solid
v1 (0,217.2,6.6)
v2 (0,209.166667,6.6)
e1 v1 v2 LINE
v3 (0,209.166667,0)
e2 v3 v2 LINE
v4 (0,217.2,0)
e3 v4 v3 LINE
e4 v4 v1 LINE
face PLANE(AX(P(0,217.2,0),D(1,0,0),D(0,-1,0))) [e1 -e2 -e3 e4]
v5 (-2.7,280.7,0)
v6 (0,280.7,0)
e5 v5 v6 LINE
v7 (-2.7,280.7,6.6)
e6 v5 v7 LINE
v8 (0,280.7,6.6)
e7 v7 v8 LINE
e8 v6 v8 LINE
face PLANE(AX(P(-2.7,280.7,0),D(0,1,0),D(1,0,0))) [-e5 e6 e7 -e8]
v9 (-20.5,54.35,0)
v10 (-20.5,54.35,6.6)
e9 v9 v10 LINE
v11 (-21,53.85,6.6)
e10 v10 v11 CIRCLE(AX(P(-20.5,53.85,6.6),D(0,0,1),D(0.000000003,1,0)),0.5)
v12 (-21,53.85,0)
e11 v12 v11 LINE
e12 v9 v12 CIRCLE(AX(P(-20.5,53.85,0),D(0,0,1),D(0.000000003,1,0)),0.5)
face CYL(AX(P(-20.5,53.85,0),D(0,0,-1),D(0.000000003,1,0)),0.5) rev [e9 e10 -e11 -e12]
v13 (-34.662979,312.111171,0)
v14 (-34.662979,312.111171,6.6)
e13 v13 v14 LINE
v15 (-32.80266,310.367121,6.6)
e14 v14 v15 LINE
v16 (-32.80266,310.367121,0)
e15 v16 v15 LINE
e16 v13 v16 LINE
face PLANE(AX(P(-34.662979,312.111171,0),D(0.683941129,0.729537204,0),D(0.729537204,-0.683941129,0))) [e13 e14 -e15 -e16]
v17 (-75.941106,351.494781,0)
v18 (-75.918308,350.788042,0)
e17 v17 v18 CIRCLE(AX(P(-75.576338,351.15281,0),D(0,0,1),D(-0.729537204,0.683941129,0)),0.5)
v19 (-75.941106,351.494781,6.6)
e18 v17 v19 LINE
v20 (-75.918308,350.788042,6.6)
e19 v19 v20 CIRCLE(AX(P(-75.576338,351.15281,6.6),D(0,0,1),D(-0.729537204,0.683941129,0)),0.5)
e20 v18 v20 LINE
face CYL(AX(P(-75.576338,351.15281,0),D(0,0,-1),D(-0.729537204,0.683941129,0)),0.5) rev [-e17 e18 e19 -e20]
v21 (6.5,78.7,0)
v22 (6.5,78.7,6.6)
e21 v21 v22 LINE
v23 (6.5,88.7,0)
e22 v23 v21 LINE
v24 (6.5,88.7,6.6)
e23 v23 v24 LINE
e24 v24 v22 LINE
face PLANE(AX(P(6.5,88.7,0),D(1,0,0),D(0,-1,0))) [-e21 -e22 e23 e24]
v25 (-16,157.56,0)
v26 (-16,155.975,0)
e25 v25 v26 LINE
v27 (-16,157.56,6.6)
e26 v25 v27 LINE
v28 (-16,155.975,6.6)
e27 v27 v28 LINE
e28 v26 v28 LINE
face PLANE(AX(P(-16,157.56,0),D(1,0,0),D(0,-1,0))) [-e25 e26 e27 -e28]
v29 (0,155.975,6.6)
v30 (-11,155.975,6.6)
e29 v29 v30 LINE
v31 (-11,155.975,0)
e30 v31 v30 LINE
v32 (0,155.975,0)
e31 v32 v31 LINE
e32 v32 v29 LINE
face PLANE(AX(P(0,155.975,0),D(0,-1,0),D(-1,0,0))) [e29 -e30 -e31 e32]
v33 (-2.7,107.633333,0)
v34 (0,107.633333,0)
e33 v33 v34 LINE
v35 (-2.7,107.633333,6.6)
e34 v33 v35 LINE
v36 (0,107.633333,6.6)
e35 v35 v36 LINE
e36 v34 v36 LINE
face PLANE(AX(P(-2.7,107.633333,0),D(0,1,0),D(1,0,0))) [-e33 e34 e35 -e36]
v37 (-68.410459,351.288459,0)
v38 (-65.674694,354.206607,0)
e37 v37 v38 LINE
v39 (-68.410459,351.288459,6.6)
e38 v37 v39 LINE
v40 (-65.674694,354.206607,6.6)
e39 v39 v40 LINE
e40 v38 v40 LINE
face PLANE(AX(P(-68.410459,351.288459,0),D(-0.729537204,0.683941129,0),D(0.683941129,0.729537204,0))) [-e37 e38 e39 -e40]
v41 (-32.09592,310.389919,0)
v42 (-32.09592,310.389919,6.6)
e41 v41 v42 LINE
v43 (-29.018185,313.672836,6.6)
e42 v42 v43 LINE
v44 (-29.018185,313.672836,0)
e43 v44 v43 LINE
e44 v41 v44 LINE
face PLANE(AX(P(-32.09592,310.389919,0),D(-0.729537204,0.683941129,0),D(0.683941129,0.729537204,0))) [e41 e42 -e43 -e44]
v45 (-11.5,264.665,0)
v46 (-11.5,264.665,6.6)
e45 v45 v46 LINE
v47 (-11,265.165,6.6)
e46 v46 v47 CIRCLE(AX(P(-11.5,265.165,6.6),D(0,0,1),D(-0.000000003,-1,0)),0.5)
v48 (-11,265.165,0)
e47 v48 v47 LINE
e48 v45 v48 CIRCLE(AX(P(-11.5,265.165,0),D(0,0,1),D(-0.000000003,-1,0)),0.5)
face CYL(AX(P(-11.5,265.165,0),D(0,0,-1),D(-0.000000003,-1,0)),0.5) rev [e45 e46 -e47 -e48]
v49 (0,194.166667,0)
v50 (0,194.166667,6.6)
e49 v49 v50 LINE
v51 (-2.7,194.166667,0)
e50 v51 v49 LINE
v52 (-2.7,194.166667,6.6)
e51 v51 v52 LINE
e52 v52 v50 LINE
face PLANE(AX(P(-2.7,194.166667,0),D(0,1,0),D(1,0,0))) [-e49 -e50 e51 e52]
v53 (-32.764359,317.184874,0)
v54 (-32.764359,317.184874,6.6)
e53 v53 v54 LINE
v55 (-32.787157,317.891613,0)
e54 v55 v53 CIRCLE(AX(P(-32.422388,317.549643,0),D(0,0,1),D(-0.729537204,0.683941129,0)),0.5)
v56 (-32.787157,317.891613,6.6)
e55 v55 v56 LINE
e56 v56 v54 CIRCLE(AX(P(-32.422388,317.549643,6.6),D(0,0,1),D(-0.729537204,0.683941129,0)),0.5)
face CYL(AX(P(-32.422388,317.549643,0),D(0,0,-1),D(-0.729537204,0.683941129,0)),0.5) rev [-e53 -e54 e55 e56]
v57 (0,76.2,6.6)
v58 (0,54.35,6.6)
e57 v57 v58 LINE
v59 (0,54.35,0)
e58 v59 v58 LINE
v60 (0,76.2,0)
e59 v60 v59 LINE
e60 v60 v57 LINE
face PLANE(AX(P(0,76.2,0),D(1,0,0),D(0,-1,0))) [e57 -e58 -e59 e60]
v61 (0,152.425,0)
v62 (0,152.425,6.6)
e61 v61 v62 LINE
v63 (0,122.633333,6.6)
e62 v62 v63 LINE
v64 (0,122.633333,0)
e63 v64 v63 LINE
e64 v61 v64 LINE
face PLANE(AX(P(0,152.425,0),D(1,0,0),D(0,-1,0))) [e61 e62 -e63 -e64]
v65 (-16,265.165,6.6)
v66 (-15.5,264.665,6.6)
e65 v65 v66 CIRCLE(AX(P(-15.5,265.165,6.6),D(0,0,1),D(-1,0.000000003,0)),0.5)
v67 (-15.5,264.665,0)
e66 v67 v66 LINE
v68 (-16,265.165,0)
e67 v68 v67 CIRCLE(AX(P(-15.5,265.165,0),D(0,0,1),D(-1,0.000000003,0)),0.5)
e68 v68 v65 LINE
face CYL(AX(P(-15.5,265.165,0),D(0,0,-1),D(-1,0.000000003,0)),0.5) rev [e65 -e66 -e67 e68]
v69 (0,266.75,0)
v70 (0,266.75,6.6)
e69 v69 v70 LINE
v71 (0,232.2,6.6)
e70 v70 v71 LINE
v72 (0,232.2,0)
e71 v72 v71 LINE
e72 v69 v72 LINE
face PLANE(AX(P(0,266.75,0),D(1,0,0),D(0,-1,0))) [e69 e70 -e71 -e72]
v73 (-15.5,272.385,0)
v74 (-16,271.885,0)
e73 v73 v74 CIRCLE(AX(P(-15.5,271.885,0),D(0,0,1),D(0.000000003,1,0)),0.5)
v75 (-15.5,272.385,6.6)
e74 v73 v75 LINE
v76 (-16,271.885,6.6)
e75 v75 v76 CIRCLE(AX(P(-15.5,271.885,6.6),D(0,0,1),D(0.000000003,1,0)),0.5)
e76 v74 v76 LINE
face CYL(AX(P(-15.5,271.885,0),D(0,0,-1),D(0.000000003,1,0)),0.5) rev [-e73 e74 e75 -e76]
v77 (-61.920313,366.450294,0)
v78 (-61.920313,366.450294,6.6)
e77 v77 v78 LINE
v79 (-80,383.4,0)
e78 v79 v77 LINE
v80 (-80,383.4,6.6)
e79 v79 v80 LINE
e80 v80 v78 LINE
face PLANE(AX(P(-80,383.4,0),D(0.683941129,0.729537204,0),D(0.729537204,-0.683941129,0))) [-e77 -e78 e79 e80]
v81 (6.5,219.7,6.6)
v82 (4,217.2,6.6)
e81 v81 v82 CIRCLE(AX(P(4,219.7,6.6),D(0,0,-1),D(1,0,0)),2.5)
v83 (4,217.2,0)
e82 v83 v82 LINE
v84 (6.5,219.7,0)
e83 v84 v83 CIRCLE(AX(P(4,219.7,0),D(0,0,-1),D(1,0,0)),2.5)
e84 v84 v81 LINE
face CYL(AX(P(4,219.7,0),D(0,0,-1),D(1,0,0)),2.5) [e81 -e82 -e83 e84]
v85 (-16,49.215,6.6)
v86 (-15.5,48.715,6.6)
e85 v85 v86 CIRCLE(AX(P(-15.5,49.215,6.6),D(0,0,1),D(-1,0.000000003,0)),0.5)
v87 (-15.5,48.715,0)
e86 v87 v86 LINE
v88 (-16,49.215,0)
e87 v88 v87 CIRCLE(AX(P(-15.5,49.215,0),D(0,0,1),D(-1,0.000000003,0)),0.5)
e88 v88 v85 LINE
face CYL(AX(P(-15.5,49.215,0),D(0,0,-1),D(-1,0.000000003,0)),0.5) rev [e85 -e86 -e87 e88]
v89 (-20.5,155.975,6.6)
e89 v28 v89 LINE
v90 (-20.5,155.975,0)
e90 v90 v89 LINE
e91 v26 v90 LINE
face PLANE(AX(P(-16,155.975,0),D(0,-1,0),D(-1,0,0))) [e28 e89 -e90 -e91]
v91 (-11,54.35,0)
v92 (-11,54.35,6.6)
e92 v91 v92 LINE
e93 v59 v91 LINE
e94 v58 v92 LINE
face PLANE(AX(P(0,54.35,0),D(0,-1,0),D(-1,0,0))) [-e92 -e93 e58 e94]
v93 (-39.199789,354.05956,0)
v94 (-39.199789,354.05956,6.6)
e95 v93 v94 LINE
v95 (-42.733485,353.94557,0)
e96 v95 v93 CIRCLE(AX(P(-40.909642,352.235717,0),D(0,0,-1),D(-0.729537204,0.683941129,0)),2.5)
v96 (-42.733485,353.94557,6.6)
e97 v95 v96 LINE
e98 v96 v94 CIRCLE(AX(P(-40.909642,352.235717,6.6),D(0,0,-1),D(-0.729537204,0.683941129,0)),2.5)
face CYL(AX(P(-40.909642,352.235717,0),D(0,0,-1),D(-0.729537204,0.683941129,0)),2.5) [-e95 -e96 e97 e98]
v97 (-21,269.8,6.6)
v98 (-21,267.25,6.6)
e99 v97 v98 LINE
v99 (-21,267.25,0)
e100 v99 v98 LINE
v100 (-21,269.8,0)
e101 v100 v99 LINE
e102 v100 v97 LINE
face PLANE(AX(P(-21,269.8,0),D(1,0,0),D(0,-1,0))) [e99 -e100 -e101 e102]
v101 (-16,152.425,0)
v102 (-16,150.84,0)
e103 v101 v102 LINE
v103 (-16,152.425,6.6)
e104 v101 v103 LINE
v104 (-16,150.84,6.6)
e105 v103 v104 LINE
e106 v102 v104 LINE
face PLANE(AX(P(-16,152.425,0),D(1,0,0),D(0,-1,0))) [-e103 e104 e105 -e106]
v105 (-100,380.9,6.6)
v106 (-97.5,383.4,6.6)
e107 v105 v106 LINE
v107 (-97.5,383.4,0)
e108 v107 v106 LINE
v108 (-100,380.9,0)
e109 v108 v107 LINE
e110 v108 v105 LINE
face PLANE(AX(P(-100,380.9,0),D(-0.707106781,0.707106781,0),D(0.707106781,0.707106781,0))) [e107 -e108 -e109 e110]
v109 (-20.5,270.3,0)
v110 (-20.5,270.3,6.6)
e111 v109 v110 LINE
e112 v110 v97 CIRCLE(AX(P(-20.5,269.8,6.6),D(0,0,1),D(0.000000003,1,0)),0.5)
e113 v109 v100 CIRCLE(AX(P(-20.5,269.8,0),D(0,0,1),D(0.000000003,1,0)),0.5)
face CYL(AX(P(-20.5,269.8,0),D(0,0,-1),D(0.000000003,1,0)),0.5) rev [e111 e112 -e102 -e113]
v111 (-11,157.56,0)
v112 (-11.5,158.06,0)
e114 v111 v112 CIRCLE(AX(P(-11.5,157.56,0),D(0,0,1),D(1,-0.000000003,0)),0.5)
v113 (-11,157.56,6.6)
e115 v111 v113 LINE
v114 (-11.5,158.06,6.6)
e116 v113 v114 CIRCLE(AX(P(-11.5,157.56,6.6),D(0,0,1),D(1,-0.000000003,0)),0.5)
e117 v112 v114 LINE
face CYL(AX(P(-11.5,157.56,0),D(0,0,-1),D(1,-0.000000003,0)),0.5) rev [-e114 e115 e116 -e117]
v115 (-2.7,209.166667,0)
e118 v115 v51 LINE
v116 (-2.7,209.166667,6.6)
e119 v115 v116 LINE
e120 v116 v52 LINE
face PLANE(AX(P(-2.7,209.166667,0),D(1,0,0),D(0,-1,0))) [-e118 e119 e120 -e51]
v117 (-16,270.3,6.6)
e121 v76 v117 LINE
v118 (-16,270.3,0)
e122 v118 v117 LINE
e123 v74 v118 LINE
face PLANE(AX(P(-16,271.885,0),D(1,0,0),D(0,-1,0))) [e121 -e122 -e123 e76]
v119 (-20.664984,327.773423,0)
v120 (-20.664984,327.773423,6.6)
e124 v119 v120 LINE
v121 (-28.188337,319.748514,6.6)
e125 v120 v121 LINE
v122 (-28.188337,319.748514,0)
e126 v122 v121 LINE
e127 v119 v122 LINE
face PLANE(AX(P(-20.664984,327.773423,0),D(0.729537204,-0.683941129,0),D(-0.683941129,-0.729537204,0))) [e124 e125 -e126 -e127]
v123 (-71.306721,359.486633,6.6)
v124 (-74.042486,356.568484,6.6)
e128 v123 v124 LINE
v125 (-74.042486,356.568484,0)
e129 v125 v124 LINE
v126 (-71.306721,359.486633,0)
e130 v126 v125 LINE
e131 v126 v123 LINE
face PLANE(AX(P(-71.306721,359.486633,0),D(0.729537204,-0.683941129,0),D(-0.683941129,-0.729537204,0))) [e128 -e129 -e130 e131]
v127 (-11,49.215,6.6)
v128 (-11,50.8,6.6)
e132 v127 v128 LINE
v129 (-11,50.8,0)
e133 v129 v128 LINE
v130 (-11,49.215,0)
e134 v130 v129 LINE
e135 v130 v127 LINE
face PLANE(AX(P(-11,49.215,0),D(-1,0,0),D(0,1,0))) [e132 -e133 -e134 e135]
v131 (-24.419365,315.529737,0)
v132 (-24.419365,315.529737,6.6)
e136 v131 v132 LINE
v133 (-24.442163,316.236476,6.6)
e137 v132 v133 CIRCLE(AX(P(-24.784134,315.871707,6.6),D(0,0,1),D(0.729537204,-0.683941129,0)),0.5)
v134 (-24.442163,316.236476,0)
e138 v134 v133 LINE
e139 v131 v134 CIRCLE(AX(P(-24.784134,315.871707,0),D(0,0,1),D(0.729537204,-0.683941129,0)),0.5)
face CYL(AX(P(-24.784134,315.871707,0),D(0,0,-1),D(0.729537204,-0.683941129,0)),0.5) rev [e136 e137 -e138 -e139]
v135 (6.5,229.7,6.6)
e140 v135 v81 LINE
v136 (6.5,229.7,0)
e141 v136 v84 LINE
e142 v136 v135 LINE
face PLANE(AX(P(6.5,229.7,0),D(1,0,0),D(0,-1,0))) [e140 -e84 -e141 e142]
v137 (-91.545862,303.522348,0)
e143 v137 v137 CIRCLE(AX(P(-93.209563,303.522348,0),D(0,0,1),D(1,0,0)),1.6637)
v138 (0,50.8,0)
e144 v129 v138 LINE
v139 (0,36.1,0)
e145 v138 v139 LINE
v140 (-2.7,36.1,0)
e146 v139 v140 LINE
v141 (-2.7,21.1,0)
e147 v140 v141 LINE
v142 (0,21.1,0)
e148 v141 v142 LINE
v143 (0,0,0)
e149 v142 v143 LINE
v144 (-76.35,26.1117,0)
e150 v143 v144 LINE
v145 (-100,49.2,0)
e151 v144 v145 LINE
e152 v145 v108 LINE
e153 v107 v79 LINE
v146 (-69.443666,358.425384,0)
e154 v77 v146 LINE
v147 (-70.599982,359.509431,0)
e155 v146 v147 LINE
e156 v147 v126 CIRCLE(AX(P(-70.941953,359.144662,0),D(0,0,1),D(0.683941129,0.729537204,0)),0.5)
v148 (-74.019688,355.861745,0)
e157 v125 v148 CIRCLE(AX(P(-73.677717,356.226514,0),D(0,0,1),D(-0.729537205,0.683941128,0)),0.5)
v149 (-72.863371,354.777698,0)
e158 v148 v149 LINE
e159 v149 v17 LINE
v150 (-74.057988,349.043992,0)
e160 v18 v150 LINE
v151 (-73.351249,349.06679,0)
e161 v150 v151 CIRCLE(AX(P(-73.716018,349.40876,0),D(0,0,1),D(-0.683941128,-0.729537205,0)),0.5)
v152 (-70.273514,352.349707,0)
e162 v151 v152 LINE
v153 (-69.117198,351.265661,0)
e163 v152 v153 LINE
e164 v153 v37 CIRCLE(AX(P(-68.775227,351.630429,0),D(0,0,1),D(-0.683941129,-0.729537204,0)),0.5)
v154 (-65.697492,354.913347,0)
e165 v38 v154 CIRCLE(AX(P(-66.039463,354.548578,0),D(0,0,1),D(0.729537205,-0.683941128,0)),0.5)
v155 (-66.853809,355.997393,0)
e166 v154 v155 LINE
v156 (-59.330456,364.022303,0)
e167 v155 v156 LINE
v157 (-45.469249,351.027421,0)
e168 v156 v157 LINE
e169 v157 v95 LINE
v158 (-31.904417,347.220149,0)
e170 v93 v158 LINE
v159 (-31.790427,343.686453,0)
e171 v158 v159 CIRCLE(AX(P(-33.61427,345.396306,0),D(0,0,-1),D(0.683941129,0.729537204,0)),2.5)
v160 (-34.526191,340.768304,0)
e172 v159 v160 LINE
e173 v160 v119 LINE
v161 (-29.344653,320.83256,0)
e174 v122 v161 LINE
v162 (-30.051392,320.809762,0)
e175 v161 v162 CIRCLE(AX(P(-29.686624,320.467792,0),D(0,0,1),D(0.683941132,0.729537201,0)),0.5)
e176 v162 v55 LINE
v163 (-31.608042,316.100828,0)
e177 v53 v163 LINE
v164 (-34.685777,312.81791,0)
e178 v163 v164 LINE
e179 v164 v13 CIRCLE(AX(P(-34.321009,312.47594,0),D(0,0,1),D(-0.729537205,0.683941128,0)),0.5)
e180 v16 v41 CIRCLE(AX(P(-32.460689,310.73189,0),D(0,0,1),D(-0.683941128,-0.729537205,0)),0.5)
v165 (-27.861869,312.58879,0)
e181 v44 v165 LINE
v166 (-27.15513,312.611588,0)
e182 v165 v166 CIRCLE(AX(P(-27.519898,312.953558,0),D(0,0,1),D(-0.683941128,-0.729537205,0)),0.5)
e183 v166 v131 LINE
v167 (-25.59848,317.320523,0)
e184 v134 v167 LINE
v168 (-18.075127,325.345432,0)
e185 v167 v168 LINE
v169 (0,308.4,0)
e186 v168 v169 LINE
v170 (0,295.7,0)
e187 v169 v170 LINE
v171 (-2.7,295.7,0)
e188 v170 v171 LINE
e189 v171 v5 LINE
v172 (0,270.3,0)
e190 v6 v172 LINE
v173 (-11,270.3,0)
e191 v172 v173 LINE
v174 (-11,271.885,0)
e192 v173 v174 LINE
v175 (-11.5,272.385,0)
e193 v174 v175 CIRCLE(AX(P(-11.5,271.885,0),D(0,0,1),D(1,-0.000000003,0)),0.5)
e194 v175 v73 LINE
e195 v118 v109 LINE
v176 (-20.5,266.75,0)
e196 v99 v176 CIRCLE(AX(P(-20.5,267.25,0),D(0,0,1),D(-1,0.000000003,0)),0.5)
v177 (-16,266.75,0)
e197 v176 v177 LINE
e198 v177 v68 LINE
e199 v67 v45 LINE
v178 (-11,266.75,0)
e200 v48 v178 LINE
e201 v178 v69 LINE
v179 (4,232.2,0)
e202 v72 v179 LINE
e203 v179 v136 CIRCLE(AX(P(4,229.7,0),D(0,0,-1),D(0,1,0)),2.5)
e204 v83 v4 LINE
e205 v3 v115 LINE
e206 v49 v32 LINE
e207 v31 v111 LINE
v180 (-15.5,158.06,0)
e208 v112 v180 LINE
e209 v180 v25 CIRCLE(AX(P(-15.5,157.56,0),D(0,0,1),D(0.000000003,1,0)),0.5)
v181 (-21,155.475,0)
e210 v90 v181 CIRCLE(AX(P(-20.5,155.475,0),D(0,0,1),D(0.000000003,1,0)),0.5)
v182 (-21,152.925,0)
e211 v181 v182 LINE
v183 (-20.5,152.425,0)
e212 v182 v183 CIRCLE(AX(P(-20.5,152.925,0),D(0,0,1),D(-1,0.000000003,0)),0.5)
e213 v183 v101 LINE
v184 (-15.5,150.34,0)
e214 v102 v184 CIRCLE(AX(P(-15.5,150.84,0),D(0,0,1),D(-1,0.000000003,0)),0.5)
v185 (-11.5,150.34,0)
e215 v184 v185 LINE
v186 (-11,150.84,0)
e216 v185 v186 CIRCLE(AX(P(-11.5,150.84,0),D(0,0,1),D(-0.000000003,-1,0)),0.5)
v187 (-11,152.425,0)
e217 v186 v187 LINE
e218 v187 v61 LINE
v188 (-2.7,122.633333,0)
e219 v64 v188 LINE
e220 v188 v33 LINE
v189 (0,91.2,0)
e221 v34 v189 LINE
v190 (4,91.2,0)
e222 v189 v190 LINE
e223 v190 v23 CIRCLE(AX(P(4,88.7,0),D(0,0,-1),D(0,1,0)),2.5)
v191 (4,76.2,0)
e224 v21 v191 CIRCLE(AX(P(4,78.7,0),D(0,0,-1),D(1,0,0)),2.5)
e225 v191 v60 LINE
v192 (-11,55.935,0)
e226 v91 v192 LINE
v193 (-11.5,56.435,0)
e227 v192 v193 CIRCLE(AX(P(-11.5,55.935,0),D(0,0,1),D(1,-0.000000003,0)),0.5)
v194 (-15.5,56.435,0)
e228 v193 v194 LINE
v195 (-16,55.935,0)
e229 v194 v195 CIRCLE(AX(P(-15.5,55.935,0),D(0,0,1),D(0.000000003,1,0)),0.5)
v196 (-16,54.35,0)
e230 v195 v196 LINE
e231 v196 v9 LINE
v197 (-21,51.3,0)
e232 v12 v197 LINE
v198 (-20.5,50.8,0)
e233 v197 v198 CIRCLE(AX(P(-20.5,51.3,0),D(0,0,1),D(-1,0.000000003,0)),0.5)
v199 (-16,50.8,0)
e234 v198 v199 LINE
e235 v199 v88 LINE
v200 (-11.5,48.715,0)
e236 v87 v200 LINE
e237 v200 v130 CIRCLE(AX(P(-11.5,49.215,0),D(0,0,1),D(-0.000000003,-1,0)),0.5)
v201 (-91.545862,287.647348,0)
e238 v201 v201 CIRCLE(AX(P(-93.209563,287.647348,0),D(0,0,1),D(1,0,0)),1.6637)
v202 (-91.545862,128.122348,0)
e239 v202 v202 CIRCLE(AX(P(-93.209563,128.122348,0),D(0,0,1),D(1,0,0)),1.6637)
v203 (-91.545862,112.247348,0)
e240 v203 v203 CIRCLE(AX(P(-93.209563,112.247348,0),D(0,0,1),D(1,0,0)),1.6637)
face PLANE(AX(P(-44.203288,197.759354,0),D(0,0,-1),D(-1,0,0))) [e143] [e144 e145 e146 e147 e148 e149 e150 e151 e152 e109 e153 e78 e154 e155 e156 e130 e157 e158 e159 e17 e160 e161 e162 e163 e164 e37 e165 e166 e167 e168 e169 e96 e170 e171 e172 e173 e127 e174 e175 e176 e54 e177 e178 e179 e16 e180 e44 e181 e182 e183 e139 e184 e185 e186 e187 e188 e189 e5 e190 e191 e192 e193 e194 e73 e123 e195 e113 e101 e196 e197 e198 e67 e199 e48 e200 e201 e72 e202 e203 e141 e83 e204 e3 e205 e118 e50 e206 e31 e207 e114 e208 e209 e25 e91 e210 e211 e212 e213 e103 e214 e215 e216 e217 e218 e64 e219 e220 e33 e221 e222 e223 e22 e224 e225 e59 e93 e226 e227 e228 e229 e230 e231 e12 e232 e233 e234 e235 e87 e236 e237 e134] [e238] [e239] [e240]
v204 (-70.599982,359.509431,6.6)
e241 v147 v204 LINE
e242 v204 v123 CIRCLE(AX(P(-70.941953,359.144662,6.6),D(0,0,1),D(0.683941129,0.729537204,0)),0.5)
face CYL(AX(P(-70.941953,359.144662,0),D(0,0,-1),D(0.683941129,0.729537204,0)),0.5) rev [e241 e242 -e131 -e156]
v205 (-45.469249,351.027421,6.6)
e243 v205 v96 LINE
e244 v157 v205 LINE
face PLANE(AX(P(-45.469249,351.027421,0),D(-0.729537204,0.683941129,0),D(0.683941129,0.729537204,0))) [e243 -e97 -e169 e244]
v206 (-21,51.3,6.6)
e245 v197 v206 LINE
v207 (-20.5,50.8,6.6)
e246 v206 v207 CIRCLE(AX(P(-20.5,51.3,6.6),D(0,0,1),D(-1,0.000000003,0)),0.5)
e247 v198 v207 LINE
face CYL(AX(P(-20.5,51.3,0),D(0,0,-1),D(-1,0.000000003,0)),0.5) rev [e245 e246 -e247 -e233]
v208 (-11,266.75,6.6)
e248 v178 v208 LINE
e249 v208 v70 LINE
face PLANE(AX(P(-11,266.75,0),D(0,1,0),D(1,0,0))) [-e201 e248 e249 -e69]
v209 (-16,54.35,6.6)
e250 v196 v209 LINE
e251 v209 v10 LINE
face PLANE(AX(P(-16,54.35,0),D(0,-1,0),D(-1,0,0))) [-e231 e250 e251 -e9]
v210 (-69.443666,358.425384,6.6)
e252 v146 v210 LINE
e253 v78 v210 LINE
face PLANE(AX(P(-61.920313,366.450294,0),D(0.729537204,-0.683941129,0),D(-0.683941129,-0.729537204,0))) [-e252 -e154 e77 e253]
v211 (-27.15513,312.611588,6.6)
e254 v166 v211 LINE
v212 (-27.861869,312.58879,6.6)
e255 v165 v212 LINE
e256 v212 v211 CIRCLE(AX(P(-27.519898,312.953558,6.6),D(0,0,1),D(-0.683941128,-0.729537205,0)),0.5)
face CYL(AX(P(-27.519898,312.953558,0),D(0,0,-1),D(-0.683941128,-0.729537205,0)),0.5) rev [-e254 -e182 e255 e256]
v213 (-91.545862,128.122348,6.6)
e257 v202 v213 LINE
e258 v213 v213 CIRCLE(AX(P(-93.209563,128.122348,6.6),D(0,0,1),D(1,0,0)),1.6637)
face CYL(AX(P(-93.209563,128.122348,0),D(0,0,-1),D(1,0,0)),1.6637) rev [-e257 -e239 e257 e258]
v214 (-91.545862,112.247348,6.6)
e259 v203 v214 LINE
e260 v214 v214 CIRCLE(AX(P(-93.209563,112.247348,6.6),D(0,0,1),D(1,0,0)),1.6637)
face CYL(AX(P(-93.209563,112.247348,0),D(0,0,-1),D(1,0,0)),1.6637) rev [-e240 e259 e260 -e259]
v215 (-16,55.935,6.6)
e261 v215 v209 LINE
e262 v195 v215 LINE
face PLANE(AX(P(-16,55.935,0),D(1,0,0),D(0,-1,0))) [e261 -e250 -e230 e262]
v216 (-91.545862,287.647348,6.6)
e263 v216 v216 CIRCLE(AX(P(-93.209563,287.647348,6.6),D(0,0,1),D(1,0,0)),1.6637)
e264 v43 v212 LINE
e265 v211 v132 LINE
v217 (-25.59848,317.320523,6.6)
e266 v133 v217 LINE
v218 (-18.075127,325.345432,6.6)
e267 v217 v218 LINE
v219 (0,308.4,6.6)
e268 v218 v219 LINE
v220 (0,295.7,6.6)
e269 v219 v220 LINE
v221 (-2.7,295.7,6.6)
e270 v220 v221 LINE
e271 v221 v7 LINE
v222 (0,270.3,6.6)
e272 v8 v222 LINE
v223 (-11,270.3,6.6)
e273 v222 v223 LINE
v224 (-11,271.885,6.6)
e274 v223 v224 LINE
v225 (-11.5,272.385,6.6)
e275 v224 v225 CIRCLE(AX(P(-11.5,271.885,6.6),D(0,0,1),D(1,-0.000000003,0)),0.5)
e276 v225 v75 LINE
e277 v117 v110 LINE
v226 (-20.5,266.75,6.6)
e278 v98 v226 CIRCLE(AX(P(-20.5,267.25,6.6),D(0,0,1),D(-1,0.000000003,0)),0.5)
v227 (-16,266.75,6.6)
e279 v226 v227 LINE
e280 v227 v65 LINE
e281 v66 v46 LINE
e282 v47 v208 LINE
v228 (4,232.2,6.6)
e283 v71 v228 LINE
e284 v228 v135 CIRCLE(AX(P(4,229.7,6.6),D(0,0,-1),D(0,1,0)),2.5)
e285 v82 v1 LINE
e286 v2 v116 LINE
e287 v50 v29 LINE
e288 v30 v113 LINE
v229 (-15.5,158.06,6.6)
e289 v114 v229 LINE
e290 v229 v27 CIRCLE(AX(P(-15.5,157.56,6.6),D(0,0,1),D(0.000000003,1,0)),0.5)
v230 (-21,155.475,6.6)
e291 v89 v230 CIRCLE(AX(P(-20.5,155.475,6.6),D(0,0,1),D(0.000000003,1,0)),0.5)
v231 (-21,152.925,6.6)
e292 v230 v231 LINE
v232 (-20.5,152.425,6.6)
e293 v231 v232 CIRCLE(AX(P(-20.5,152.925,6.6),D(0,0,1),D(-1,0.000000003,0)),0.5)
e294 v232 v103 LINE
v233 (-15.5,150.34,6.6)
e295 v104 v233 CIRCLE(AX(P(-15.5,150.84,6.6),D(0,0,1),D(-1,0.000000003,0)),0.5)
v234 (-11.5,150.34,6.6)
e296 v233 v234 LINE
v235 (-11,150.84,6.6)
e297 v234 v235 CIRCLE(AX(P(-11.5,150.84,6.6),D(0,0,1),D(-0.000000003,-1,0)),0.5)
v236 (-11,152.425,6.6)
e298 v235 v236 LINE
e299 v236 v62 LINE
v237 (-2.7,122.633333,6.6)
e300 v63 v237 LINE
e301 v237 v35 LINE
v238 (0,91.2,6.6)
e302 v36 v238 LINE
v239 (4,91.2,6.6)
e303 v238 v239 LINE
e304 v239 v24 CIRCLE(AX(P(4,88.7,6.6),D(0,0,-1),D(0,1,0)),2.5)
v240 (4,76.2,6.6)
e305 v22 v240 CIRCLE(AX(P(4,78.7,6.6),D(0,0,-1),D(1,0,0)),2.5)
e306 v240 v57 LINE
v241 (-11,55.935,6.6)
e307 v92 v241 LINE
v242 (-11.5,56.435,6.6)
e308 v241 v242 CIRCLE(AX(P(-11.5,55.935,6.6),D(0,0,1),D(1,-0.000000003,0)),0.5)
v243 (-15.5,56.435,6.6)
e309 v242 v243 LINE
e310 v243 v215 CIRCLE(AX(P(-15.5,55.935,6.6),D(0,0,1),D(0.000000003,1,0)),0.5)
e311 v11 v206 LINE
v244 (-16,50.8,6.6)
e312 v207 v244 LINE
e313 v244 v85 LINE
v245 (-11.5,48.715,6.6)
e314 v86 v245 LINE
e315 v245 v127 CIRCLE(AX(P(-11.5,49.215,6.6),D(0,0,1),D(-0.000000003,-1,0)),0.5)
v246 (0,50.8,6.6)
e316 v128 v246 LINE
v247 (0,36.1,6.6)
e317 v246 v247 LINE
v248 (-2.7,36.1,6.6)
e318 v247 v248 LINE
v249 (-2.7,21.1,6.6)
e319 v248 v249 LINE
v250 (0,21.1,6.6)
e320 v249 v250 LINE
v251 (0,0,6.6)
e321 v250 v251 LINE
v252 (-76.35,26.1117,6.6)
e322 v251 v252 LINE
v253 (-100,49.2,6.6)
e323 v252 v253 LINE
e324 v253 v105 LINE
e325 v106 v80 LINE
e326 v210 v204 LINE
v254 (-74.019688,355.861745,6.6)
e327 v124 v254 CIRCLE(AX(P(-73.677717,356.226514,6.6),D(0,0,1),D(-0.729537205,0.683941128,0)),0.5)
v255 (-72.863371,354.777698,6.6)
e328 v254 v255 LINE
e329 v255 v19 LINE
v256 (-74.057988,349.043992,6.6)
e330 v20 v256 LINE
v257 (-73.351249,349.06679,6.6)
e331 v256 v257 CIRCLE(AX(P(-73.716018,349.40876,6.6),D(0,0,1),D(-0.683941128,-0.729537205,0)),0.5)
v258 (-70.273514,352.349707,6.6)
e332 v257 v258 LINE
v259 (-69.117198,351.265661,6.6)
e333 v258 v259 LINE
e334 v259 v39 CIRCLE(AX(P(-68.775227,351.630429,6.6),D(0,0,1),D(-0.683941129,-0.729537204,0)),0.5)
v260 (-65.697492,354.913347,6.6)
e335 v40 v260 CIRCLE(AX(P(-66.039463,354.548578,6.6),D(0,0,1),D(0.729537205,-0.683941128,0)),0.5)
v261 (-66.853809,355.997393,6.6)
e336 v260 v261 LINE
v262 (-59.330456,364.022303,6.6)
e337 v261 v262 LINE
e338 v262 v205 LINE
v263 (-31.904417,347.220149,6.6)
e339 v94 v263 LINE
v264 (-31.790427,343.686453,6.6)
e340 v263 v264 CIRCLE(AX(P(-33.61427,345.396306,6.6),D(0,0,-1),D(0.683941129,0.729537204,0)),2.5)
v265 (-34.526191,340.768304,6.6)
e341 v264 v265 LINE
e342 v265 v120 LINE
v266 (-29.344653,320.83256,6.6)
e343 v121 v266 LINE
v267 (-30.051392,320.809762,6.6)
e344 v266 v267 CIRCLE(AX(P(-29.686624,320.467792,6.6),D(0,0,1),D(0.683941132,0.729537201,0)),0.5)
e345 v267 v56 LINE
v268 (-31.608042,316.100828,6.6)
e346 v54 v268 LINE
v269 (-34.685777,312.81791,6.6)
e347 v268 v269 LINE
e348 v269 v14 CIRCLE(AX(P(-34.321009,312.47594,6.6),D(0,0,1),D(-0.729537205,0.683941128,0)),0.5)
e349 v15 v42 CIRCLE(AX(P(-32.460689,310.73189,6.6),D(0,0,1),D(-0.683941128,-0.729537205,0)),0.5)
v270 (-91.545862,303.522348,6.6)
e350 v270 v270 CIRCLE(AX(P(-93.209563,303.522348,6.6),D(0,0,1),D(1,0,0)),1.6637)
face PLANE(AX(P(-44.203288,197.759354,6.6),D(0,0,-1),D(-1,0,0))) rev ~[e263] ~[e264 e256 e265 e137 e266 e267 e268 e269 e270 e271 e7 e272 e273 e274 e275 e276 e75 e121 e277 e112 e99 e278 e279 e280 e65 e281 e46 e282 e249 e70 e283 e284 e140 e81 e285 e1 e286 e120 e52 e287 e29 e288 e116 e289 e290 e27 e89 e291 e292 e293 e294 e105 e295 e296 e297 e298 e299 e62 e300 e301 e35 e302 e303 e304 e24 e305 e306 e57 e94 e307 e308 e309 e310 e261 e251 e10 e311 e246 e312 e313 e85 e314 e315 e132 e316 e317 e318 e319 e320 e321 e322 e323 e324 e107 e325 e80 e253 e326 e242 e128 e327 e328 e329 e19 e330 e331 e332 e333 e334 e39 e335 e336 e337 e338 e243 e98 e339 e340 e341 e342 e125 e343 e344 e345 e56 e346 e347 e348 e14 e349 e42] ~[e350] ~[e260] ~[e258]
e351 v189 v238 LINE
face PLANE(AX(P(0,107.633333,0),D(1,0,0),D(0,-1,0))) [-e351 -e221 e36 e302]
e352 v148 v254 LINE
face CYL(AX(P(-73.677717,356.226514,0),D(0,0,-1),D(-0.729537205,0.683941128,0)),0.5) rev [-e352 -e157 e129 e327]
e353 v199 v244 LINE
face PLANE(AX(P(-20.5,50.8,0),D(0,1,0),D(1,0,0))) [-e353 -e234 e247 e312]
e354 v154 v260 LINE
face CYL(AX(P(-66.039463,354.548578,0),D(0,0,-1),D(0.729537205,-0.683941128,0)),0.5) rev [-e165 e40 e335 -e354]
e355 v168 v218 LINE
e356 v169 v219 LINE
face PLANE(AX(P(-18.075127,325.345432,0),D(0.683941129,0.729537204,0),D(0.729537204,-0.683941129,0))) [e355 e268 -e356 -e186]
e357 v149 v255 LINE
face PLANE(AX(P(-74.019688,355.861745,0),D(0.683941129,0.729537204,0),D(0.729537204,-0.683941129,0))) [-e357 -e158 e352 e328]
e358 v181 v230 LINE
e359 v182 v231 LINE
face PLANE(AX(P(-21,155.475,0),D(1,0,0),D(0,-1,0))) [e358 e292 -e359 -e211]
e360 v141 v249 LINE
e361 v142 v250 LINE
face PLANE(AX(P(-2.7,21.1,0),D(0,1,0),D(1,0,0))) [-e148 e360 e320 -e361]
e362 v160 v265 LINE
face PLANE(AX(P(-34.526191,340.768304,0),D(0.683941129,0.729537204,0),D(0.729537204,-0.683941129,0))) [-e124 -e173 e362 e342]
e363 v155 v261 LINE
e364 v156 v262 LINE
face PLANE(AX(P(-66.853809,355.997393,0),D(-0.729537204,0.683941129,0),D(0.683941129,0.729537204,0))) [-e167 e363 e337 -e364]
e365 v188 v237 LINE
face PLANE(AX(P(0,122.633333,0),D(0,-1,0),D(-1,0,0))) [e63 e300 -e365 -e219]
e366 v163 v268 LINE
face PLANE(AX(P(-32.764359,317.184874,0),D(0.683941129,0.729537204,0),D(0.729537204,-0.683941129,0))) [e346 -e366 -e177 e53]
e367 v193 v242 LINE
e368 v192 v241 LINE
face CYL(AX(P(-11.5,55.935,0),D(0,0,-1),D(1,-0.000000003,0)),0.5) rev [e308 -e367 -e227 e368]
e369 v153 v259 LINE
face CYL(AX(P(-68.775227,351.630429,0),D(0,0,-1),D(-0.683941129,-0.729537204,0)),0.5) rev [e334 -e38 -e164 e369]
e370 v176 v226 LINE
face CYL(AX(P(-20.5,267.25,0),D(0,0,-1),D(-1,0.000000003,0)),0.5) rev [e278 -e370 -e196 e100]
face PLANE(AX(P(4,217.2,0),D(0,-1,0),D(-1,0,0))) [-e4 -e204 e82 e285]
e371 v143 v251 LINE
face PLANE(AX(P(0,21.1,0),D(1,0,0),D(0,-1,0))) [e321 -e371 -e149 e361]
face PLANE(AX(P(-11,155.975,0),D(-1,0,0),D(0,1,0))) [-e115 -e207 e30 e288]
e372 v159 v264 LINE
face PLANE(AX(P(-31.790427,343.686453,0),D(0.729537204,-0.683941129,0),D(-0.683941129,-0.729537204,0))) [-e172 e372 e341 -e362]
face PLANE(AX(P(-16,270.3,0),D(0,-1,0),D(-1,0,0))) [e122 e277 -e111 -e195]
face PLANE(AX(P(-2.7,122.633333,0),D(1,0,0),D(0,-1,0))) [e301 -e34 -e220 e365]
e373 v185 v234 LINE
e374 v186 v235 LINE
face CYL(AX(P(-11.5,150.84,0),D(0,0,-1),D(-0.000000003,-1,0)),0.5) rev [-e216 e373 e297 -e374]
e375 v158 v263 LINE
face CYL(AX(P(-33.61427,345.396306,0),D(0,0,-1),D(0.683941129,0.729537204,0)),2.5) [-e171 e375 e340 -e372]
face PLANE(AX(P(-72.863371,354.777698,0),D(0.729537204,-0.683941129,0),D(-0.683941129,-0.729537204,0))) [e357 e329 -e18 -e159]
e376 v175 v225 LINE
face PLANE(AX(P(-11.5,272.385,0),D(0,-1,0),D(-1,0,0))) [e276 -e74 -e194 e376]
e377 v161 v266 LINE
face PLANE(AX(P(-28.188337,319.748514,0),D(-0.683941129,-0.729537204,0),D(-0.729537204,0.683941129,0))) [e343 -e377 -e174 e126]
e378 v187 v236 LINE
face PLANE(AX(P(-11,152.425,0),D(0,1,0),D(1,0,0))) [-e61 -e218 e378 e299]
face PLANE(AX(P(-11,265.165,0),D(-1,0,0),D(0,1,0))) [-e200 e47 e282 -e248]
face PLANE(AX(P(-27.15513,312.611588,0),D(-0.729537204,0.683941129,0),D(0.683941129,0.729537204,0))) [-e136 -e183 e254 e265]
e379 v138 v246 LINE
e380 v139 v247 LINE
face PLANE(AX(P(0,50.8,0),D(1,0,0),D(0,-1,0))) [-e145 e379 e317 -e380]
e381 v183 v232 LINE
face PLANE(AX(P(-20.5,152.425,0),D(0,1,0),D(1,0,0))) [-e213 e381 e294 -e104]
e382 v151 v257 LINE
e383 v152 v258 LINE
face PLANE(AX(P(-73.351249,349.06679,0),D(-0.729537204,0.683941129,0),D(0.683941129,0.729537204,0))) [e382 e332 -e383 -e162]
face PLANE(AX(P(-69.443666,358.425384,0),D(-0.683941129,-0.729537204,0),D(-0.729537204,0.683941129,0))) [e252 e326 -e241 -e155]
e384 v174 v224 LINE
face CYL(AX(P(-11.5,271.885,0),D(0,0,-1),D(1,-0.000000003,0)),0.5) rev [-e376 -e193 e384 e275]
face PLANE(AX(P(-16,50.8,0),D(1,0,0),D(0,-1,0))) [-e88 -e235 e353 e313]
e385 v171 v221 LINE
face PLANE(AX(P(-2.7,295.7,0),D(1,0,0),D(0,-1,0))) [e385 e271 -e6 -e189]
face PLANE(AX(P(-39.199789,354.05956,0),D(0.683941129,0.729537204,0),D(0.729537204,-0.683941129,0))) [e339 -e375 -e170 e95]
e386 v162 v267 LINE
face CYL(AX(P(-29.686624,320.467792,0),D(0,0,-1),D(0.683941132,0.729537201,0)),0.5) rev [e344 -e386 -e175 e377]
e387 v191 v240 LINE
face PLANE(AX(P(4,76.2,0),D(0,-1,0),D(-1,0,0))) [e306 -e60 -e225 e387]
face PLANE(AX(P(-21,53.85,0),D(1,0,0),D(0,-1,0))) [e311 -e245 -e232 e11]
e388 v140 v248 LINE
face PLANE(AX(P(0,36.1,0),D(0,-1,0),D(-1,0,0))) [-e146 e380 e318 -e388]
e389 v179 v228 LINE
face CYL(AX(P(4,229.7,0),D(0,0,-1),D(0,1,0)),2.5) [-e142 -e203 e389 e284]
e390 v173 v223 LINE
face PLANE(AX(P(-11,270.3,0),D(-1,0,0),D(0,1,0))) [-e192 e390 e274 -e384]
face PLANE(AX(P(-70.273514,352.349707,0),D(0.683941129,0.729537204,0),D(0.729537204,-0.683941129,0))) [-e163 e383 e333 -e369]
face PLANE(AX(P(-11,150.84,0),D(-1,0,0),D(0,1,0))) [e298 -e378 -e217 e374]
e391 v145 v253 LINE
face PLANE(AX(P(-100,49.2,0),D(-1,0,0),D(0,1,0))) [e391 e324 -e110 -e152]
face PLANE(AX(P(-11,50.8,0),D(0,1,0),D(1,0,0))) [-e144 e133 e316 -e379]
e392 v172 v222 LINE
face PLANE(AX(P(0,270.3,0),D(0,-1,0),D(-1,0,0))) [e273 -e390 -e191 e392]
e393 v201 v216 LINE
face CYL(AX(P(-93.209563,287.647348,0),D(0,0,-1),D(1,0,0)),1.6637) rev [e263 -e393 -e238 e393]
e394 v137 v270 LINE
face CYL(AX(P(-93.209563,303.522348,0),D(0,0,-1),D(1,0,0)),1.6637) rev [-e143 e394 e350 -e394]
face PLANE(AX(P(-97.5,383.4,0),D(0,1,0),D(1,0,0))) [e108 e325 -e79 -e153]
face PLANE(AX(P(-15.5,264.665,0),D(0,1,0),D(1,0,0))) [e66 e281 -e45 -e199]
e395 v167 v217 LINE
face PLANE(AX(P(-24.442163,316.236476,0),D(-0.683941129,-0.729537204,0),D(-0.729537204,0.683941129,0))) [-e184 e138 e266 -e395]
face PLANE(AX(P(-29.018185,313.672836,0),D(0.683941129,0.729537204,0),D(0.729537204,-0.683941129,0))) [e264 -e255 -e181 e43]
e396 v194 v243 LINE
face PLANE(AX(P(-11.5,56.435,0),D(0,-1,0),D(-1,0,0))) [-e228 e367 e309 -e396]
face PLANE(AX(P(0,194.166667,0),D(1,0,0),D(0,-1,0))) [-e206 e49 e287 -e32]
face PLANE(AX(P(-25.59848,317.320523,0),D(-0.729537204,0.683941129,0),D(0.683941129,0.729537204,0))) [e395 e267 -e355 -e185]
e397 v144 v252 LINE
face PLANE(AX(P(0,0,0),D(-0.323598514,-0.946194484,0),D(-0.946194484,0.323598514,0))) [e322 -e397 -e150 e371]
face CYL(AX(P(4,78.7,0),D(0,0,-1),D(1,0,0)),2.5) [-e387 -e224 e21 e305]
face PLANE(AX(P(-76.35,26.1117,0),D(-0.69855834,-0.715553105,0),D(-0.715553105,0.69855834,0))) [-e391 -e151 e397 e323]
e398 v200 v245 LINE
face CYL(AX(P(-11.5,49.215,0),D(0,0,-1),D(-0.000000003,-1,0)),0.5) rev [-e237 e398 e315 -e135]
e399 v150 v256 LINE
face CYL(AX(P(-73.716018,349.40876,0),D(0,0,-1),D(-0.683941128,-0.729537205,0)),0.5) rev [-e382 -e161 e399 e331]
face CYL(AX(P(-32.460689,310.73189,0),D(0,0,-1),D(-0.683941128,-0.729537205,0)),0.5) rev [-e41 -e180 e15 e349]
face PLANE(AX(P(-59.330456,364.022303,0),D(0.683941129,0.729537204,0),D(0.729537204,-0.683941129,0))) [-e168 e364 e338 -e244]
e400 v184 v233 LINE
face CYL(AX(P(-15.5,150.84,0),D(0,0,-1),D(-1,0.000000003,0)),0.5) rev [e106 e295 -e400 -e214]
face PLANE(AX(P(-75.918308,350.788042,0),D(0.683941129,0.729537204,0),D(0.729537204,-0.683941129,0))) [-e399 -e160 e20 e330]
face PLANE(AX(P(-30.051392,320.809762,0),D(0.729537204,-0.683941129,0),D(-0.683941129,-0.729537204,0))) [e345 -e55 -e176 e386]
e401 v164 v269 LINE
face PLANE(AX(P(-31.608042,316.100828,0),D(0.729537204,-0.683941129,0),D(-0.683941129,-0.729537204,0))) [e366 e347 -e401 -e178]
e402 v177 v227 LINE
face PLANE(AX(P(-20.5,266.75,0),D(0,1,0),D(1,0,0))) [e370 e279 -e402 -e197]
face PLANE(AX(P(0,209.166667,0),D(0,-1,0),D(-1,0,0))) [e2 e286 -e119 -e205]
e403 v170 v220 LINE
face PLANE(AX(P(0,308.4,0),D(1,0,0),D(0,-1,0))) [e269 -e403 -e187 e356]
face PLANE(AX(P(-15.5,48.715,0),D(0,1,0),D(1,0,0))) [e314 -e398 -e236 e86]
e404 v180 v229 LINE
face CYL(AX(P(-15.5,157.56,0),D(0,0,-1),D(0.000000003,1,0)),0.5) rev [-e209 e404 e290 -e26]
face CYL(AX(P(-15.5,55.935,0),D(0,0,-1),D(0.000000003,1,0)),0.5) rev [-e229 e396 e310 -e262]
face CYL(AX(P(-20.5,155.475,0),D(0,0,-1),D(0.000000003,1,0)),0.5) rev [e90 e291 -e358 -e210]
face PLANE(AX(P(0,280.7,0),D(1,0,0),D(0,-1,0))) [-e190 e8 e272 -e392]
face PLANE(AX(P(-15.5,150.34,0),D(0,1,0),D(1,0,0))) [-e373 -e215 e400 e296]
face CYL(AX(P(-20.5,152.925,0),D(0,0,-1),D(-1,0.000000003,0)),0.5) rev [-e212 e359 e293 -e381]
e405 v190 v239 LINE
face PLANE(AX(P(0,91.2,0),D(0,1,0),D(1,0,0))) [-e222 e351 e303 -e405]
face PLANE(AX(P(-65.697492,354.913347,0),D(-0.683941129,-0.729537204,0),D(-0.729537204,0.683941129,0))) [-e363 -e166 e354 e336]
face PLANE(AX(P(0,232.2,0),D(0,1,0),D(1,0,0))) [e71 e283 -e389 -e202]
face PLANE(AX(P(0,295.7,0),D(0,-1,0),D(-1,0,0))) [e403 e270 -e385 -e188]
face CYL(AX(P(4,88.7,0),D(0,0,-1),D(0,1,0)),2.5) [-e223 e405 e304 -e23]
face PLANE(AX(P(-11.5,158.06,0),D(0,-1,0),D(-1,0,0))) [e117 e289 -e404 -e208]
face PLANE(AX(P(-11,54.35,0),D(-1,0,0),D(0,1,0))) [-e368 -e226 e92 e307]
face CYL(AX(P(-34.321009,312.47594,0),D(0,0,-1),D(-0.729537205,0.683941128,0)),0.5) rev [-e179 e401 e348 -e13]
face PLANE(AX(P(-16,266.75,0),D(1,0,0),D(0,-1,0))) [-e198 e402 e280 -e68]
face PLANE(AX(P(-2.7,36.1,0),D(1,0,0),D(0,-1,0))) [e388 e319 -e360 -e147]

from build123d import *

# Parameters (mm, degrees)
MODEL_R             = 1.6637
BOSS_EXTRUDE1_DEPTH = 6.6


with BuildPart() as part:
    # Model → Boss-Extrude1 (new body)
    with BuildSketch(Plane.XY):
        with BuildLine():
            Line((-2.7, 21.1), (0, 21.1))
            Line((0, 21.1), (0, 0))
            Line((0, 0), (-76.35, 26.1117))
            Line((-76.35, 26.1117), (-100, 49.2))
            Line((-100, 49.2), (-100, 380.9))
            Line((-100, 380.9), (-97.5, 383.4))
            Line((-97.5, 383.4), (-80, 383.4))
            Line((-80, 383.4), (-61.92031318, 366.450293606))
            Line((-61.92031318, 366.450293606), (-69.443665597, 358.42538436))
            Line((-69.443665597, 358.42538436), (-70.599982066, 359.50943105))
            ThreePointArc((-70.599982066, 359.50943105), (-70.958073277, 359.644402505), (-71.306721232, 359.486633012))
            Line((-71.306721232, 359.486633012), (-74.042485748, 356.568484196))
            ThreePointArc((-74.042485748, 356.568484196), (-74.177457203, 356.210392984), (-74.01968771, 355.861745029))
            Line((-74.01968771, 355.861745029), (-72.863371242, 354.77769834))
            Line((-72.863371242, 354.77769834), (-75.941106322, 351.494780921))
            ThreePointArc((-75.941106322, 351.494780921), (-76.076077777, 351.13668971), (-75.918308284, 350.788041755))
            Line((-75.918308284, 350.788041755), (-74.057988413, 349.043991876))
            ThreePointArc((-74.057988413, 349.043991876), (-73.699897202, 348.909020421), (-73.351249247, 349.066789913))
            Line((-73.351249247, 349.066789913), (-70.273514167, 352.349707332))
            Line((-70.273514167, 352.349707332), (-69.117197698, 351.265660643))
            ThreePointArc((-69.117197698, 351.265660643), (-68.759106487, 351.130689188), (-68.410458532, 351.288458681))
            Line((-68.410458532, 351.288458681), (-65.674694016, 354.206607497))
            ThreePointArc((-65.674694016, 354.206607497), (-65.539722561, 354.564698709), (-65.697492054, 354.913346664))
            Line((-65.697492054, 354.913346664), (-66.853808523, 355.997393353))
            Line((-66.853808523, 355.997393353), (-59.330456105, 364.022302598))
            Line((-59.330456105, 364.022302598), (-45.469249226, 351.02742115))
            Line((-45.469249226, 351.02742115), (-42.733484711, 353.945569966))
            ThreePointArc((-42.733484711, 353.945569966), (-40.990244935, 354.73441743), (-39.199788878, 354.059560154))
            Line((-39.199788878, 354.059560154), (-31.904416837, 347.220148866))
            ThreePointArc((-31.904416837, 347.220148866), (-31.115569373, 345.47690909), (-31.790426649, 343.686453033))
            Line((-31.790426649, 343.686453033), (-34.526191164, 340.768304216))
            Line((-34.526191164, 340.768304216), (-20.664984286, 327.773422768))
            Line((-20.664984286, 327.773422768), (-28.188336703, 319.748513522))
            Line((-28.188336703, 319.748513522), (-29.344653172, 320.832560211))
            ThreePointArc((-29.344653172, 320.832560211), (-29.702744383, 320.967531667), (-30.051392338, 320.809762174))
            Line((-30.051392338, 320.809762174), (-32.787156854, 317.891613357))
            ThreePointArc((-32.787156854, 317.891613357), (-32.922128309, 317.533522146), (-32.764358816, 317.184874191))
            Line((-32.764358816, 317.184874191), (-31.608042348, 316.100827502))
            Line((-31.608042348, 316.100827502), (-34.685777428, 312.817910083))
            ThreePointArc((-34.685777428, 312.817910083), (-34.820748883, 312.459818871), (-34.66297939, 312.111170916))
            Line((-34.66297939, 312.111170916), (-32.802659519, 310.367121038))
            ThreePointArc((-32.802659519, 310.367121038), (-32.444568308, 310.232149583), (-32.095920353, 310.389919075))
            Line((-32.095920353, 310.389919075), (-29.018185273, 313.672836494))
            Line((-29.018185273, 313.672836494), (-27.861868804, 312.588789805))
            ThreePointArc((-27.861868804, 312.588789805), (-27.503777593, 312.45381835), (-27.155129638, 312.611587842))
            Line((-27.155129638, 312.611587842), (-24.419365122, 315.529736659))
            ThreePointArc((-24.419365122, 315.529736659), (-24.284393667, 315.88782787), (-24.44216316, 316.236475825))
            Line((-24.44216316, 316.236475825), (-25.598479629, 317.320522515))
            Line((-25.598479629, 317.320522515), (-18.075127211, 325.34543176))
            Line((-18.075127211, 325.34543176), (0, 308.4))
            Line((0, 308.4), (0, 295.7))
            Line((0, 295.7), (-2.7, 295.7))
            Line((-2.7, 295.7), (-2.7, 280.7))
            Line((-2.7, 280.7), (0, 280.7))
            Line((0, 280.7), (0, 270.3))
            Line((0, 270.3), (-11, 270.3))
            Line((-11, 270.3), (-11, 271.885))
            ThreePointArc((-11, 271.885), (-11.146446609, 272.238553391), (-11.5, 272.385))
            Line((-11.5, 272.385), (-15.5, 272.385))
            ThreePointArc((-15.5, 272.385), (-15.853553391, 272.238553391), (-16, 271.885))
            Line((-16, 271.885), (-16, 270.3))
            Line((-16, 270.3), (-20.5, 270.3))
            ThreePointArc((-20.5, 270.3), (-20.853553391, 270.153553391), (-21, 269.8))
            Line((-21, 269.8), (-21, 267.25))
            ThreePointArc((-21, 267.25), (-20.853553391, 266.896446609), (-20.5, 266.75))
            Line((-20.5, 266.75), (-16, 266.75))
            Line((-16, 266.75), (-16, 265.165))
            ThreePointArc((-16, 265.165), (-15.853553391, 264.811446609), (-15.5, 264.665))
            Line((-15.5, 264.665), (-11.5, 264.665))
            ThreePointArc((-11.5, 264.665), (-11.146446609, 264.811446609), (-11, 265.165))
            Line((-11, 265.165), (-11, 266.75))
            Line((-11, 266.75), (0, 266.75))
            Line((0, 266.75), (0, 232.2))
            Line((0, 232.2), (4, 232.2))
            ThreePointArc((4, 232.2), (5.767766953, 231.467766953), (6.5, 229.7))
            Line((6.5, 229.7), (6.5, 219.7))
            ThreePointArc((6.5, 219.7), (5.767766953, 217.932233047), (4, 217.2))
            Line((4, 217.2), (0, 217.2))
            Line((0, 217.2), (0, 209.166666667))
            Line((0, 209.166666667), (-2.7, 209.166666667))
            Line((-2.7, 209.166666667), (-2.7, 194.166666667))
            Line((-2.7, 194.166666667), (0, 194.166666667))
            Line((0, 194.166666667), (0, 155.975))
            Line((0, 155.975), (-11, 155.975))
            Line((-11, 155.975), (-11, 157.56))
            ThreePointArc((-11, 157.56), (-11.146446609, 157.913553391), (-11.5, 158.06))
            Line((-11.5, 158.06), (-15.5, 158.06))
            ThreePointArc((-15.5, 158.06), (-15.853553391, 157.913553391), (-16, 157.56))
            Line((-16, 157.56), (-16, 155.975))
            Line((-16, 155.975), (-20.5, 155.975))
            ThreePointArc((-20.5, 155.975), (-20.853553391, 155.828553391), (-21, 155.475))
            Line((-21, 155.475), (-21, 152.925))
            ThreePointArc((-21, 152.925), (-20.853553391, 152.571446609), (-20.5, 152.425))
            Line((-20.5, 152.425), (-16, 152.425))
            Line((-16, 152.425), (-16, 150.84))
            ThreePointArc((-16, 150.84), (-15.853553391, 150.486446609), (-15.5, 150.34))
            Line((-15.5, 150.34), (-11.5, 150.34))
            ThreePointArc((-11.5, 150.34), (-11.146446609, 150.486446609), (-11, 150.84))
            Line((-11, 150.84), (-11, 152.425))
            Line((-11, 152.425), (0, 152.425))
            Line((0, 152.425), (0, 122.633333333))
            Line((0, 122.633333333), (-2.7, 122.633333333))
            Line((-2.7, 122.633333333), (-2.7, 107.633333333))
            Line((-2.7, 107.633333333), (0, 107.633333333))
            Line((0, 107.633333333), (0, 91.2))
            Line((0, 91.2), (4, 91.2))
            ThreePointArc((4, 91.2), (5.767766953, 90.467766953), (6.5, 88.7))
            Line((6.5, 88.7), (6.5, 78.7))
            ThreePointArc((6.5, 78.7), (5.767766953, 76.932233047), (4, 76.2))
            Line((4, 76.2), (0, 76.2))
            Line((0, 76.2), (0, 54.35))
            Line((0, 54.35), (-11, 54.35))
            Line((-11, 54.35), (-11, 55.935))
            ThreePointArc((-11, 55.935), (-11.146446609, 56.288553391), (-11.5, 56.435))
            Line((-11.5, 56.435), (-15.5, 56.435))
            ThreePointArc((-15.5, 56.435), (-15.853553391, 56.288553391), (-16, 55.935))
            Line((-16, 55.935), (-16, 54.35))
            Line((-16, 54.35), (-20.5, 54.35))
            ThreePointArc((-20.5, 54.35), (-20.853553391, 54.203553391), (-21, 53.85))
            Line((-21, 53.85), (-21, 51.3))
            ThreePointArc((-21, 51.3), (-20.853553391, 50.946446609), (-20.5, 50.8))
            Line((-20.5, 50.8), (-16, 50.8))
            Line((-16, 50.8), (-16, 49.215))
            ThreePointArc((-16, 49.215), (-15.853553391, 48.861446609), (-15.5, 48.715))
            Line((-15.5, 48.715), (-11.5, 48.715))
            ThreePointArc((-11.5, 48.715), (-11.146446609, 48.861446609), (-11, 49.215))
            Line((-11, 49.215), (-11, 50.8))
            Line((-11, 50.8), (0, 50.8))
            Line((0, 50.8), (0, 36.1))
            Line((0, 36.1), (-2.7, 36.1))
            Line((-2.7, 36.1), (-2.7, 21.1))
        make_face()
        with Locations((-93.2095625, 128.122348004)):
            Circle(MODEL_R, mode=Mode.SUBTRACT)
        with Locations((-93.2095625, 112.247348004)):
            Circle(MODEL_R, mode=Mode.SUBTRACT)
        with Locations((-93.2095625, 303.522348003)):
            Circle(MODEL_R, mode=Mode.SUBTRACT)
        with Locations((-93.2095625, 287.647348003)):
            Circle(MODEL_R, mode=Mode.SUBTRACT)
    extrude(amount=BOSS_EXTRUDE1_DEPTH)


solid = part.part
